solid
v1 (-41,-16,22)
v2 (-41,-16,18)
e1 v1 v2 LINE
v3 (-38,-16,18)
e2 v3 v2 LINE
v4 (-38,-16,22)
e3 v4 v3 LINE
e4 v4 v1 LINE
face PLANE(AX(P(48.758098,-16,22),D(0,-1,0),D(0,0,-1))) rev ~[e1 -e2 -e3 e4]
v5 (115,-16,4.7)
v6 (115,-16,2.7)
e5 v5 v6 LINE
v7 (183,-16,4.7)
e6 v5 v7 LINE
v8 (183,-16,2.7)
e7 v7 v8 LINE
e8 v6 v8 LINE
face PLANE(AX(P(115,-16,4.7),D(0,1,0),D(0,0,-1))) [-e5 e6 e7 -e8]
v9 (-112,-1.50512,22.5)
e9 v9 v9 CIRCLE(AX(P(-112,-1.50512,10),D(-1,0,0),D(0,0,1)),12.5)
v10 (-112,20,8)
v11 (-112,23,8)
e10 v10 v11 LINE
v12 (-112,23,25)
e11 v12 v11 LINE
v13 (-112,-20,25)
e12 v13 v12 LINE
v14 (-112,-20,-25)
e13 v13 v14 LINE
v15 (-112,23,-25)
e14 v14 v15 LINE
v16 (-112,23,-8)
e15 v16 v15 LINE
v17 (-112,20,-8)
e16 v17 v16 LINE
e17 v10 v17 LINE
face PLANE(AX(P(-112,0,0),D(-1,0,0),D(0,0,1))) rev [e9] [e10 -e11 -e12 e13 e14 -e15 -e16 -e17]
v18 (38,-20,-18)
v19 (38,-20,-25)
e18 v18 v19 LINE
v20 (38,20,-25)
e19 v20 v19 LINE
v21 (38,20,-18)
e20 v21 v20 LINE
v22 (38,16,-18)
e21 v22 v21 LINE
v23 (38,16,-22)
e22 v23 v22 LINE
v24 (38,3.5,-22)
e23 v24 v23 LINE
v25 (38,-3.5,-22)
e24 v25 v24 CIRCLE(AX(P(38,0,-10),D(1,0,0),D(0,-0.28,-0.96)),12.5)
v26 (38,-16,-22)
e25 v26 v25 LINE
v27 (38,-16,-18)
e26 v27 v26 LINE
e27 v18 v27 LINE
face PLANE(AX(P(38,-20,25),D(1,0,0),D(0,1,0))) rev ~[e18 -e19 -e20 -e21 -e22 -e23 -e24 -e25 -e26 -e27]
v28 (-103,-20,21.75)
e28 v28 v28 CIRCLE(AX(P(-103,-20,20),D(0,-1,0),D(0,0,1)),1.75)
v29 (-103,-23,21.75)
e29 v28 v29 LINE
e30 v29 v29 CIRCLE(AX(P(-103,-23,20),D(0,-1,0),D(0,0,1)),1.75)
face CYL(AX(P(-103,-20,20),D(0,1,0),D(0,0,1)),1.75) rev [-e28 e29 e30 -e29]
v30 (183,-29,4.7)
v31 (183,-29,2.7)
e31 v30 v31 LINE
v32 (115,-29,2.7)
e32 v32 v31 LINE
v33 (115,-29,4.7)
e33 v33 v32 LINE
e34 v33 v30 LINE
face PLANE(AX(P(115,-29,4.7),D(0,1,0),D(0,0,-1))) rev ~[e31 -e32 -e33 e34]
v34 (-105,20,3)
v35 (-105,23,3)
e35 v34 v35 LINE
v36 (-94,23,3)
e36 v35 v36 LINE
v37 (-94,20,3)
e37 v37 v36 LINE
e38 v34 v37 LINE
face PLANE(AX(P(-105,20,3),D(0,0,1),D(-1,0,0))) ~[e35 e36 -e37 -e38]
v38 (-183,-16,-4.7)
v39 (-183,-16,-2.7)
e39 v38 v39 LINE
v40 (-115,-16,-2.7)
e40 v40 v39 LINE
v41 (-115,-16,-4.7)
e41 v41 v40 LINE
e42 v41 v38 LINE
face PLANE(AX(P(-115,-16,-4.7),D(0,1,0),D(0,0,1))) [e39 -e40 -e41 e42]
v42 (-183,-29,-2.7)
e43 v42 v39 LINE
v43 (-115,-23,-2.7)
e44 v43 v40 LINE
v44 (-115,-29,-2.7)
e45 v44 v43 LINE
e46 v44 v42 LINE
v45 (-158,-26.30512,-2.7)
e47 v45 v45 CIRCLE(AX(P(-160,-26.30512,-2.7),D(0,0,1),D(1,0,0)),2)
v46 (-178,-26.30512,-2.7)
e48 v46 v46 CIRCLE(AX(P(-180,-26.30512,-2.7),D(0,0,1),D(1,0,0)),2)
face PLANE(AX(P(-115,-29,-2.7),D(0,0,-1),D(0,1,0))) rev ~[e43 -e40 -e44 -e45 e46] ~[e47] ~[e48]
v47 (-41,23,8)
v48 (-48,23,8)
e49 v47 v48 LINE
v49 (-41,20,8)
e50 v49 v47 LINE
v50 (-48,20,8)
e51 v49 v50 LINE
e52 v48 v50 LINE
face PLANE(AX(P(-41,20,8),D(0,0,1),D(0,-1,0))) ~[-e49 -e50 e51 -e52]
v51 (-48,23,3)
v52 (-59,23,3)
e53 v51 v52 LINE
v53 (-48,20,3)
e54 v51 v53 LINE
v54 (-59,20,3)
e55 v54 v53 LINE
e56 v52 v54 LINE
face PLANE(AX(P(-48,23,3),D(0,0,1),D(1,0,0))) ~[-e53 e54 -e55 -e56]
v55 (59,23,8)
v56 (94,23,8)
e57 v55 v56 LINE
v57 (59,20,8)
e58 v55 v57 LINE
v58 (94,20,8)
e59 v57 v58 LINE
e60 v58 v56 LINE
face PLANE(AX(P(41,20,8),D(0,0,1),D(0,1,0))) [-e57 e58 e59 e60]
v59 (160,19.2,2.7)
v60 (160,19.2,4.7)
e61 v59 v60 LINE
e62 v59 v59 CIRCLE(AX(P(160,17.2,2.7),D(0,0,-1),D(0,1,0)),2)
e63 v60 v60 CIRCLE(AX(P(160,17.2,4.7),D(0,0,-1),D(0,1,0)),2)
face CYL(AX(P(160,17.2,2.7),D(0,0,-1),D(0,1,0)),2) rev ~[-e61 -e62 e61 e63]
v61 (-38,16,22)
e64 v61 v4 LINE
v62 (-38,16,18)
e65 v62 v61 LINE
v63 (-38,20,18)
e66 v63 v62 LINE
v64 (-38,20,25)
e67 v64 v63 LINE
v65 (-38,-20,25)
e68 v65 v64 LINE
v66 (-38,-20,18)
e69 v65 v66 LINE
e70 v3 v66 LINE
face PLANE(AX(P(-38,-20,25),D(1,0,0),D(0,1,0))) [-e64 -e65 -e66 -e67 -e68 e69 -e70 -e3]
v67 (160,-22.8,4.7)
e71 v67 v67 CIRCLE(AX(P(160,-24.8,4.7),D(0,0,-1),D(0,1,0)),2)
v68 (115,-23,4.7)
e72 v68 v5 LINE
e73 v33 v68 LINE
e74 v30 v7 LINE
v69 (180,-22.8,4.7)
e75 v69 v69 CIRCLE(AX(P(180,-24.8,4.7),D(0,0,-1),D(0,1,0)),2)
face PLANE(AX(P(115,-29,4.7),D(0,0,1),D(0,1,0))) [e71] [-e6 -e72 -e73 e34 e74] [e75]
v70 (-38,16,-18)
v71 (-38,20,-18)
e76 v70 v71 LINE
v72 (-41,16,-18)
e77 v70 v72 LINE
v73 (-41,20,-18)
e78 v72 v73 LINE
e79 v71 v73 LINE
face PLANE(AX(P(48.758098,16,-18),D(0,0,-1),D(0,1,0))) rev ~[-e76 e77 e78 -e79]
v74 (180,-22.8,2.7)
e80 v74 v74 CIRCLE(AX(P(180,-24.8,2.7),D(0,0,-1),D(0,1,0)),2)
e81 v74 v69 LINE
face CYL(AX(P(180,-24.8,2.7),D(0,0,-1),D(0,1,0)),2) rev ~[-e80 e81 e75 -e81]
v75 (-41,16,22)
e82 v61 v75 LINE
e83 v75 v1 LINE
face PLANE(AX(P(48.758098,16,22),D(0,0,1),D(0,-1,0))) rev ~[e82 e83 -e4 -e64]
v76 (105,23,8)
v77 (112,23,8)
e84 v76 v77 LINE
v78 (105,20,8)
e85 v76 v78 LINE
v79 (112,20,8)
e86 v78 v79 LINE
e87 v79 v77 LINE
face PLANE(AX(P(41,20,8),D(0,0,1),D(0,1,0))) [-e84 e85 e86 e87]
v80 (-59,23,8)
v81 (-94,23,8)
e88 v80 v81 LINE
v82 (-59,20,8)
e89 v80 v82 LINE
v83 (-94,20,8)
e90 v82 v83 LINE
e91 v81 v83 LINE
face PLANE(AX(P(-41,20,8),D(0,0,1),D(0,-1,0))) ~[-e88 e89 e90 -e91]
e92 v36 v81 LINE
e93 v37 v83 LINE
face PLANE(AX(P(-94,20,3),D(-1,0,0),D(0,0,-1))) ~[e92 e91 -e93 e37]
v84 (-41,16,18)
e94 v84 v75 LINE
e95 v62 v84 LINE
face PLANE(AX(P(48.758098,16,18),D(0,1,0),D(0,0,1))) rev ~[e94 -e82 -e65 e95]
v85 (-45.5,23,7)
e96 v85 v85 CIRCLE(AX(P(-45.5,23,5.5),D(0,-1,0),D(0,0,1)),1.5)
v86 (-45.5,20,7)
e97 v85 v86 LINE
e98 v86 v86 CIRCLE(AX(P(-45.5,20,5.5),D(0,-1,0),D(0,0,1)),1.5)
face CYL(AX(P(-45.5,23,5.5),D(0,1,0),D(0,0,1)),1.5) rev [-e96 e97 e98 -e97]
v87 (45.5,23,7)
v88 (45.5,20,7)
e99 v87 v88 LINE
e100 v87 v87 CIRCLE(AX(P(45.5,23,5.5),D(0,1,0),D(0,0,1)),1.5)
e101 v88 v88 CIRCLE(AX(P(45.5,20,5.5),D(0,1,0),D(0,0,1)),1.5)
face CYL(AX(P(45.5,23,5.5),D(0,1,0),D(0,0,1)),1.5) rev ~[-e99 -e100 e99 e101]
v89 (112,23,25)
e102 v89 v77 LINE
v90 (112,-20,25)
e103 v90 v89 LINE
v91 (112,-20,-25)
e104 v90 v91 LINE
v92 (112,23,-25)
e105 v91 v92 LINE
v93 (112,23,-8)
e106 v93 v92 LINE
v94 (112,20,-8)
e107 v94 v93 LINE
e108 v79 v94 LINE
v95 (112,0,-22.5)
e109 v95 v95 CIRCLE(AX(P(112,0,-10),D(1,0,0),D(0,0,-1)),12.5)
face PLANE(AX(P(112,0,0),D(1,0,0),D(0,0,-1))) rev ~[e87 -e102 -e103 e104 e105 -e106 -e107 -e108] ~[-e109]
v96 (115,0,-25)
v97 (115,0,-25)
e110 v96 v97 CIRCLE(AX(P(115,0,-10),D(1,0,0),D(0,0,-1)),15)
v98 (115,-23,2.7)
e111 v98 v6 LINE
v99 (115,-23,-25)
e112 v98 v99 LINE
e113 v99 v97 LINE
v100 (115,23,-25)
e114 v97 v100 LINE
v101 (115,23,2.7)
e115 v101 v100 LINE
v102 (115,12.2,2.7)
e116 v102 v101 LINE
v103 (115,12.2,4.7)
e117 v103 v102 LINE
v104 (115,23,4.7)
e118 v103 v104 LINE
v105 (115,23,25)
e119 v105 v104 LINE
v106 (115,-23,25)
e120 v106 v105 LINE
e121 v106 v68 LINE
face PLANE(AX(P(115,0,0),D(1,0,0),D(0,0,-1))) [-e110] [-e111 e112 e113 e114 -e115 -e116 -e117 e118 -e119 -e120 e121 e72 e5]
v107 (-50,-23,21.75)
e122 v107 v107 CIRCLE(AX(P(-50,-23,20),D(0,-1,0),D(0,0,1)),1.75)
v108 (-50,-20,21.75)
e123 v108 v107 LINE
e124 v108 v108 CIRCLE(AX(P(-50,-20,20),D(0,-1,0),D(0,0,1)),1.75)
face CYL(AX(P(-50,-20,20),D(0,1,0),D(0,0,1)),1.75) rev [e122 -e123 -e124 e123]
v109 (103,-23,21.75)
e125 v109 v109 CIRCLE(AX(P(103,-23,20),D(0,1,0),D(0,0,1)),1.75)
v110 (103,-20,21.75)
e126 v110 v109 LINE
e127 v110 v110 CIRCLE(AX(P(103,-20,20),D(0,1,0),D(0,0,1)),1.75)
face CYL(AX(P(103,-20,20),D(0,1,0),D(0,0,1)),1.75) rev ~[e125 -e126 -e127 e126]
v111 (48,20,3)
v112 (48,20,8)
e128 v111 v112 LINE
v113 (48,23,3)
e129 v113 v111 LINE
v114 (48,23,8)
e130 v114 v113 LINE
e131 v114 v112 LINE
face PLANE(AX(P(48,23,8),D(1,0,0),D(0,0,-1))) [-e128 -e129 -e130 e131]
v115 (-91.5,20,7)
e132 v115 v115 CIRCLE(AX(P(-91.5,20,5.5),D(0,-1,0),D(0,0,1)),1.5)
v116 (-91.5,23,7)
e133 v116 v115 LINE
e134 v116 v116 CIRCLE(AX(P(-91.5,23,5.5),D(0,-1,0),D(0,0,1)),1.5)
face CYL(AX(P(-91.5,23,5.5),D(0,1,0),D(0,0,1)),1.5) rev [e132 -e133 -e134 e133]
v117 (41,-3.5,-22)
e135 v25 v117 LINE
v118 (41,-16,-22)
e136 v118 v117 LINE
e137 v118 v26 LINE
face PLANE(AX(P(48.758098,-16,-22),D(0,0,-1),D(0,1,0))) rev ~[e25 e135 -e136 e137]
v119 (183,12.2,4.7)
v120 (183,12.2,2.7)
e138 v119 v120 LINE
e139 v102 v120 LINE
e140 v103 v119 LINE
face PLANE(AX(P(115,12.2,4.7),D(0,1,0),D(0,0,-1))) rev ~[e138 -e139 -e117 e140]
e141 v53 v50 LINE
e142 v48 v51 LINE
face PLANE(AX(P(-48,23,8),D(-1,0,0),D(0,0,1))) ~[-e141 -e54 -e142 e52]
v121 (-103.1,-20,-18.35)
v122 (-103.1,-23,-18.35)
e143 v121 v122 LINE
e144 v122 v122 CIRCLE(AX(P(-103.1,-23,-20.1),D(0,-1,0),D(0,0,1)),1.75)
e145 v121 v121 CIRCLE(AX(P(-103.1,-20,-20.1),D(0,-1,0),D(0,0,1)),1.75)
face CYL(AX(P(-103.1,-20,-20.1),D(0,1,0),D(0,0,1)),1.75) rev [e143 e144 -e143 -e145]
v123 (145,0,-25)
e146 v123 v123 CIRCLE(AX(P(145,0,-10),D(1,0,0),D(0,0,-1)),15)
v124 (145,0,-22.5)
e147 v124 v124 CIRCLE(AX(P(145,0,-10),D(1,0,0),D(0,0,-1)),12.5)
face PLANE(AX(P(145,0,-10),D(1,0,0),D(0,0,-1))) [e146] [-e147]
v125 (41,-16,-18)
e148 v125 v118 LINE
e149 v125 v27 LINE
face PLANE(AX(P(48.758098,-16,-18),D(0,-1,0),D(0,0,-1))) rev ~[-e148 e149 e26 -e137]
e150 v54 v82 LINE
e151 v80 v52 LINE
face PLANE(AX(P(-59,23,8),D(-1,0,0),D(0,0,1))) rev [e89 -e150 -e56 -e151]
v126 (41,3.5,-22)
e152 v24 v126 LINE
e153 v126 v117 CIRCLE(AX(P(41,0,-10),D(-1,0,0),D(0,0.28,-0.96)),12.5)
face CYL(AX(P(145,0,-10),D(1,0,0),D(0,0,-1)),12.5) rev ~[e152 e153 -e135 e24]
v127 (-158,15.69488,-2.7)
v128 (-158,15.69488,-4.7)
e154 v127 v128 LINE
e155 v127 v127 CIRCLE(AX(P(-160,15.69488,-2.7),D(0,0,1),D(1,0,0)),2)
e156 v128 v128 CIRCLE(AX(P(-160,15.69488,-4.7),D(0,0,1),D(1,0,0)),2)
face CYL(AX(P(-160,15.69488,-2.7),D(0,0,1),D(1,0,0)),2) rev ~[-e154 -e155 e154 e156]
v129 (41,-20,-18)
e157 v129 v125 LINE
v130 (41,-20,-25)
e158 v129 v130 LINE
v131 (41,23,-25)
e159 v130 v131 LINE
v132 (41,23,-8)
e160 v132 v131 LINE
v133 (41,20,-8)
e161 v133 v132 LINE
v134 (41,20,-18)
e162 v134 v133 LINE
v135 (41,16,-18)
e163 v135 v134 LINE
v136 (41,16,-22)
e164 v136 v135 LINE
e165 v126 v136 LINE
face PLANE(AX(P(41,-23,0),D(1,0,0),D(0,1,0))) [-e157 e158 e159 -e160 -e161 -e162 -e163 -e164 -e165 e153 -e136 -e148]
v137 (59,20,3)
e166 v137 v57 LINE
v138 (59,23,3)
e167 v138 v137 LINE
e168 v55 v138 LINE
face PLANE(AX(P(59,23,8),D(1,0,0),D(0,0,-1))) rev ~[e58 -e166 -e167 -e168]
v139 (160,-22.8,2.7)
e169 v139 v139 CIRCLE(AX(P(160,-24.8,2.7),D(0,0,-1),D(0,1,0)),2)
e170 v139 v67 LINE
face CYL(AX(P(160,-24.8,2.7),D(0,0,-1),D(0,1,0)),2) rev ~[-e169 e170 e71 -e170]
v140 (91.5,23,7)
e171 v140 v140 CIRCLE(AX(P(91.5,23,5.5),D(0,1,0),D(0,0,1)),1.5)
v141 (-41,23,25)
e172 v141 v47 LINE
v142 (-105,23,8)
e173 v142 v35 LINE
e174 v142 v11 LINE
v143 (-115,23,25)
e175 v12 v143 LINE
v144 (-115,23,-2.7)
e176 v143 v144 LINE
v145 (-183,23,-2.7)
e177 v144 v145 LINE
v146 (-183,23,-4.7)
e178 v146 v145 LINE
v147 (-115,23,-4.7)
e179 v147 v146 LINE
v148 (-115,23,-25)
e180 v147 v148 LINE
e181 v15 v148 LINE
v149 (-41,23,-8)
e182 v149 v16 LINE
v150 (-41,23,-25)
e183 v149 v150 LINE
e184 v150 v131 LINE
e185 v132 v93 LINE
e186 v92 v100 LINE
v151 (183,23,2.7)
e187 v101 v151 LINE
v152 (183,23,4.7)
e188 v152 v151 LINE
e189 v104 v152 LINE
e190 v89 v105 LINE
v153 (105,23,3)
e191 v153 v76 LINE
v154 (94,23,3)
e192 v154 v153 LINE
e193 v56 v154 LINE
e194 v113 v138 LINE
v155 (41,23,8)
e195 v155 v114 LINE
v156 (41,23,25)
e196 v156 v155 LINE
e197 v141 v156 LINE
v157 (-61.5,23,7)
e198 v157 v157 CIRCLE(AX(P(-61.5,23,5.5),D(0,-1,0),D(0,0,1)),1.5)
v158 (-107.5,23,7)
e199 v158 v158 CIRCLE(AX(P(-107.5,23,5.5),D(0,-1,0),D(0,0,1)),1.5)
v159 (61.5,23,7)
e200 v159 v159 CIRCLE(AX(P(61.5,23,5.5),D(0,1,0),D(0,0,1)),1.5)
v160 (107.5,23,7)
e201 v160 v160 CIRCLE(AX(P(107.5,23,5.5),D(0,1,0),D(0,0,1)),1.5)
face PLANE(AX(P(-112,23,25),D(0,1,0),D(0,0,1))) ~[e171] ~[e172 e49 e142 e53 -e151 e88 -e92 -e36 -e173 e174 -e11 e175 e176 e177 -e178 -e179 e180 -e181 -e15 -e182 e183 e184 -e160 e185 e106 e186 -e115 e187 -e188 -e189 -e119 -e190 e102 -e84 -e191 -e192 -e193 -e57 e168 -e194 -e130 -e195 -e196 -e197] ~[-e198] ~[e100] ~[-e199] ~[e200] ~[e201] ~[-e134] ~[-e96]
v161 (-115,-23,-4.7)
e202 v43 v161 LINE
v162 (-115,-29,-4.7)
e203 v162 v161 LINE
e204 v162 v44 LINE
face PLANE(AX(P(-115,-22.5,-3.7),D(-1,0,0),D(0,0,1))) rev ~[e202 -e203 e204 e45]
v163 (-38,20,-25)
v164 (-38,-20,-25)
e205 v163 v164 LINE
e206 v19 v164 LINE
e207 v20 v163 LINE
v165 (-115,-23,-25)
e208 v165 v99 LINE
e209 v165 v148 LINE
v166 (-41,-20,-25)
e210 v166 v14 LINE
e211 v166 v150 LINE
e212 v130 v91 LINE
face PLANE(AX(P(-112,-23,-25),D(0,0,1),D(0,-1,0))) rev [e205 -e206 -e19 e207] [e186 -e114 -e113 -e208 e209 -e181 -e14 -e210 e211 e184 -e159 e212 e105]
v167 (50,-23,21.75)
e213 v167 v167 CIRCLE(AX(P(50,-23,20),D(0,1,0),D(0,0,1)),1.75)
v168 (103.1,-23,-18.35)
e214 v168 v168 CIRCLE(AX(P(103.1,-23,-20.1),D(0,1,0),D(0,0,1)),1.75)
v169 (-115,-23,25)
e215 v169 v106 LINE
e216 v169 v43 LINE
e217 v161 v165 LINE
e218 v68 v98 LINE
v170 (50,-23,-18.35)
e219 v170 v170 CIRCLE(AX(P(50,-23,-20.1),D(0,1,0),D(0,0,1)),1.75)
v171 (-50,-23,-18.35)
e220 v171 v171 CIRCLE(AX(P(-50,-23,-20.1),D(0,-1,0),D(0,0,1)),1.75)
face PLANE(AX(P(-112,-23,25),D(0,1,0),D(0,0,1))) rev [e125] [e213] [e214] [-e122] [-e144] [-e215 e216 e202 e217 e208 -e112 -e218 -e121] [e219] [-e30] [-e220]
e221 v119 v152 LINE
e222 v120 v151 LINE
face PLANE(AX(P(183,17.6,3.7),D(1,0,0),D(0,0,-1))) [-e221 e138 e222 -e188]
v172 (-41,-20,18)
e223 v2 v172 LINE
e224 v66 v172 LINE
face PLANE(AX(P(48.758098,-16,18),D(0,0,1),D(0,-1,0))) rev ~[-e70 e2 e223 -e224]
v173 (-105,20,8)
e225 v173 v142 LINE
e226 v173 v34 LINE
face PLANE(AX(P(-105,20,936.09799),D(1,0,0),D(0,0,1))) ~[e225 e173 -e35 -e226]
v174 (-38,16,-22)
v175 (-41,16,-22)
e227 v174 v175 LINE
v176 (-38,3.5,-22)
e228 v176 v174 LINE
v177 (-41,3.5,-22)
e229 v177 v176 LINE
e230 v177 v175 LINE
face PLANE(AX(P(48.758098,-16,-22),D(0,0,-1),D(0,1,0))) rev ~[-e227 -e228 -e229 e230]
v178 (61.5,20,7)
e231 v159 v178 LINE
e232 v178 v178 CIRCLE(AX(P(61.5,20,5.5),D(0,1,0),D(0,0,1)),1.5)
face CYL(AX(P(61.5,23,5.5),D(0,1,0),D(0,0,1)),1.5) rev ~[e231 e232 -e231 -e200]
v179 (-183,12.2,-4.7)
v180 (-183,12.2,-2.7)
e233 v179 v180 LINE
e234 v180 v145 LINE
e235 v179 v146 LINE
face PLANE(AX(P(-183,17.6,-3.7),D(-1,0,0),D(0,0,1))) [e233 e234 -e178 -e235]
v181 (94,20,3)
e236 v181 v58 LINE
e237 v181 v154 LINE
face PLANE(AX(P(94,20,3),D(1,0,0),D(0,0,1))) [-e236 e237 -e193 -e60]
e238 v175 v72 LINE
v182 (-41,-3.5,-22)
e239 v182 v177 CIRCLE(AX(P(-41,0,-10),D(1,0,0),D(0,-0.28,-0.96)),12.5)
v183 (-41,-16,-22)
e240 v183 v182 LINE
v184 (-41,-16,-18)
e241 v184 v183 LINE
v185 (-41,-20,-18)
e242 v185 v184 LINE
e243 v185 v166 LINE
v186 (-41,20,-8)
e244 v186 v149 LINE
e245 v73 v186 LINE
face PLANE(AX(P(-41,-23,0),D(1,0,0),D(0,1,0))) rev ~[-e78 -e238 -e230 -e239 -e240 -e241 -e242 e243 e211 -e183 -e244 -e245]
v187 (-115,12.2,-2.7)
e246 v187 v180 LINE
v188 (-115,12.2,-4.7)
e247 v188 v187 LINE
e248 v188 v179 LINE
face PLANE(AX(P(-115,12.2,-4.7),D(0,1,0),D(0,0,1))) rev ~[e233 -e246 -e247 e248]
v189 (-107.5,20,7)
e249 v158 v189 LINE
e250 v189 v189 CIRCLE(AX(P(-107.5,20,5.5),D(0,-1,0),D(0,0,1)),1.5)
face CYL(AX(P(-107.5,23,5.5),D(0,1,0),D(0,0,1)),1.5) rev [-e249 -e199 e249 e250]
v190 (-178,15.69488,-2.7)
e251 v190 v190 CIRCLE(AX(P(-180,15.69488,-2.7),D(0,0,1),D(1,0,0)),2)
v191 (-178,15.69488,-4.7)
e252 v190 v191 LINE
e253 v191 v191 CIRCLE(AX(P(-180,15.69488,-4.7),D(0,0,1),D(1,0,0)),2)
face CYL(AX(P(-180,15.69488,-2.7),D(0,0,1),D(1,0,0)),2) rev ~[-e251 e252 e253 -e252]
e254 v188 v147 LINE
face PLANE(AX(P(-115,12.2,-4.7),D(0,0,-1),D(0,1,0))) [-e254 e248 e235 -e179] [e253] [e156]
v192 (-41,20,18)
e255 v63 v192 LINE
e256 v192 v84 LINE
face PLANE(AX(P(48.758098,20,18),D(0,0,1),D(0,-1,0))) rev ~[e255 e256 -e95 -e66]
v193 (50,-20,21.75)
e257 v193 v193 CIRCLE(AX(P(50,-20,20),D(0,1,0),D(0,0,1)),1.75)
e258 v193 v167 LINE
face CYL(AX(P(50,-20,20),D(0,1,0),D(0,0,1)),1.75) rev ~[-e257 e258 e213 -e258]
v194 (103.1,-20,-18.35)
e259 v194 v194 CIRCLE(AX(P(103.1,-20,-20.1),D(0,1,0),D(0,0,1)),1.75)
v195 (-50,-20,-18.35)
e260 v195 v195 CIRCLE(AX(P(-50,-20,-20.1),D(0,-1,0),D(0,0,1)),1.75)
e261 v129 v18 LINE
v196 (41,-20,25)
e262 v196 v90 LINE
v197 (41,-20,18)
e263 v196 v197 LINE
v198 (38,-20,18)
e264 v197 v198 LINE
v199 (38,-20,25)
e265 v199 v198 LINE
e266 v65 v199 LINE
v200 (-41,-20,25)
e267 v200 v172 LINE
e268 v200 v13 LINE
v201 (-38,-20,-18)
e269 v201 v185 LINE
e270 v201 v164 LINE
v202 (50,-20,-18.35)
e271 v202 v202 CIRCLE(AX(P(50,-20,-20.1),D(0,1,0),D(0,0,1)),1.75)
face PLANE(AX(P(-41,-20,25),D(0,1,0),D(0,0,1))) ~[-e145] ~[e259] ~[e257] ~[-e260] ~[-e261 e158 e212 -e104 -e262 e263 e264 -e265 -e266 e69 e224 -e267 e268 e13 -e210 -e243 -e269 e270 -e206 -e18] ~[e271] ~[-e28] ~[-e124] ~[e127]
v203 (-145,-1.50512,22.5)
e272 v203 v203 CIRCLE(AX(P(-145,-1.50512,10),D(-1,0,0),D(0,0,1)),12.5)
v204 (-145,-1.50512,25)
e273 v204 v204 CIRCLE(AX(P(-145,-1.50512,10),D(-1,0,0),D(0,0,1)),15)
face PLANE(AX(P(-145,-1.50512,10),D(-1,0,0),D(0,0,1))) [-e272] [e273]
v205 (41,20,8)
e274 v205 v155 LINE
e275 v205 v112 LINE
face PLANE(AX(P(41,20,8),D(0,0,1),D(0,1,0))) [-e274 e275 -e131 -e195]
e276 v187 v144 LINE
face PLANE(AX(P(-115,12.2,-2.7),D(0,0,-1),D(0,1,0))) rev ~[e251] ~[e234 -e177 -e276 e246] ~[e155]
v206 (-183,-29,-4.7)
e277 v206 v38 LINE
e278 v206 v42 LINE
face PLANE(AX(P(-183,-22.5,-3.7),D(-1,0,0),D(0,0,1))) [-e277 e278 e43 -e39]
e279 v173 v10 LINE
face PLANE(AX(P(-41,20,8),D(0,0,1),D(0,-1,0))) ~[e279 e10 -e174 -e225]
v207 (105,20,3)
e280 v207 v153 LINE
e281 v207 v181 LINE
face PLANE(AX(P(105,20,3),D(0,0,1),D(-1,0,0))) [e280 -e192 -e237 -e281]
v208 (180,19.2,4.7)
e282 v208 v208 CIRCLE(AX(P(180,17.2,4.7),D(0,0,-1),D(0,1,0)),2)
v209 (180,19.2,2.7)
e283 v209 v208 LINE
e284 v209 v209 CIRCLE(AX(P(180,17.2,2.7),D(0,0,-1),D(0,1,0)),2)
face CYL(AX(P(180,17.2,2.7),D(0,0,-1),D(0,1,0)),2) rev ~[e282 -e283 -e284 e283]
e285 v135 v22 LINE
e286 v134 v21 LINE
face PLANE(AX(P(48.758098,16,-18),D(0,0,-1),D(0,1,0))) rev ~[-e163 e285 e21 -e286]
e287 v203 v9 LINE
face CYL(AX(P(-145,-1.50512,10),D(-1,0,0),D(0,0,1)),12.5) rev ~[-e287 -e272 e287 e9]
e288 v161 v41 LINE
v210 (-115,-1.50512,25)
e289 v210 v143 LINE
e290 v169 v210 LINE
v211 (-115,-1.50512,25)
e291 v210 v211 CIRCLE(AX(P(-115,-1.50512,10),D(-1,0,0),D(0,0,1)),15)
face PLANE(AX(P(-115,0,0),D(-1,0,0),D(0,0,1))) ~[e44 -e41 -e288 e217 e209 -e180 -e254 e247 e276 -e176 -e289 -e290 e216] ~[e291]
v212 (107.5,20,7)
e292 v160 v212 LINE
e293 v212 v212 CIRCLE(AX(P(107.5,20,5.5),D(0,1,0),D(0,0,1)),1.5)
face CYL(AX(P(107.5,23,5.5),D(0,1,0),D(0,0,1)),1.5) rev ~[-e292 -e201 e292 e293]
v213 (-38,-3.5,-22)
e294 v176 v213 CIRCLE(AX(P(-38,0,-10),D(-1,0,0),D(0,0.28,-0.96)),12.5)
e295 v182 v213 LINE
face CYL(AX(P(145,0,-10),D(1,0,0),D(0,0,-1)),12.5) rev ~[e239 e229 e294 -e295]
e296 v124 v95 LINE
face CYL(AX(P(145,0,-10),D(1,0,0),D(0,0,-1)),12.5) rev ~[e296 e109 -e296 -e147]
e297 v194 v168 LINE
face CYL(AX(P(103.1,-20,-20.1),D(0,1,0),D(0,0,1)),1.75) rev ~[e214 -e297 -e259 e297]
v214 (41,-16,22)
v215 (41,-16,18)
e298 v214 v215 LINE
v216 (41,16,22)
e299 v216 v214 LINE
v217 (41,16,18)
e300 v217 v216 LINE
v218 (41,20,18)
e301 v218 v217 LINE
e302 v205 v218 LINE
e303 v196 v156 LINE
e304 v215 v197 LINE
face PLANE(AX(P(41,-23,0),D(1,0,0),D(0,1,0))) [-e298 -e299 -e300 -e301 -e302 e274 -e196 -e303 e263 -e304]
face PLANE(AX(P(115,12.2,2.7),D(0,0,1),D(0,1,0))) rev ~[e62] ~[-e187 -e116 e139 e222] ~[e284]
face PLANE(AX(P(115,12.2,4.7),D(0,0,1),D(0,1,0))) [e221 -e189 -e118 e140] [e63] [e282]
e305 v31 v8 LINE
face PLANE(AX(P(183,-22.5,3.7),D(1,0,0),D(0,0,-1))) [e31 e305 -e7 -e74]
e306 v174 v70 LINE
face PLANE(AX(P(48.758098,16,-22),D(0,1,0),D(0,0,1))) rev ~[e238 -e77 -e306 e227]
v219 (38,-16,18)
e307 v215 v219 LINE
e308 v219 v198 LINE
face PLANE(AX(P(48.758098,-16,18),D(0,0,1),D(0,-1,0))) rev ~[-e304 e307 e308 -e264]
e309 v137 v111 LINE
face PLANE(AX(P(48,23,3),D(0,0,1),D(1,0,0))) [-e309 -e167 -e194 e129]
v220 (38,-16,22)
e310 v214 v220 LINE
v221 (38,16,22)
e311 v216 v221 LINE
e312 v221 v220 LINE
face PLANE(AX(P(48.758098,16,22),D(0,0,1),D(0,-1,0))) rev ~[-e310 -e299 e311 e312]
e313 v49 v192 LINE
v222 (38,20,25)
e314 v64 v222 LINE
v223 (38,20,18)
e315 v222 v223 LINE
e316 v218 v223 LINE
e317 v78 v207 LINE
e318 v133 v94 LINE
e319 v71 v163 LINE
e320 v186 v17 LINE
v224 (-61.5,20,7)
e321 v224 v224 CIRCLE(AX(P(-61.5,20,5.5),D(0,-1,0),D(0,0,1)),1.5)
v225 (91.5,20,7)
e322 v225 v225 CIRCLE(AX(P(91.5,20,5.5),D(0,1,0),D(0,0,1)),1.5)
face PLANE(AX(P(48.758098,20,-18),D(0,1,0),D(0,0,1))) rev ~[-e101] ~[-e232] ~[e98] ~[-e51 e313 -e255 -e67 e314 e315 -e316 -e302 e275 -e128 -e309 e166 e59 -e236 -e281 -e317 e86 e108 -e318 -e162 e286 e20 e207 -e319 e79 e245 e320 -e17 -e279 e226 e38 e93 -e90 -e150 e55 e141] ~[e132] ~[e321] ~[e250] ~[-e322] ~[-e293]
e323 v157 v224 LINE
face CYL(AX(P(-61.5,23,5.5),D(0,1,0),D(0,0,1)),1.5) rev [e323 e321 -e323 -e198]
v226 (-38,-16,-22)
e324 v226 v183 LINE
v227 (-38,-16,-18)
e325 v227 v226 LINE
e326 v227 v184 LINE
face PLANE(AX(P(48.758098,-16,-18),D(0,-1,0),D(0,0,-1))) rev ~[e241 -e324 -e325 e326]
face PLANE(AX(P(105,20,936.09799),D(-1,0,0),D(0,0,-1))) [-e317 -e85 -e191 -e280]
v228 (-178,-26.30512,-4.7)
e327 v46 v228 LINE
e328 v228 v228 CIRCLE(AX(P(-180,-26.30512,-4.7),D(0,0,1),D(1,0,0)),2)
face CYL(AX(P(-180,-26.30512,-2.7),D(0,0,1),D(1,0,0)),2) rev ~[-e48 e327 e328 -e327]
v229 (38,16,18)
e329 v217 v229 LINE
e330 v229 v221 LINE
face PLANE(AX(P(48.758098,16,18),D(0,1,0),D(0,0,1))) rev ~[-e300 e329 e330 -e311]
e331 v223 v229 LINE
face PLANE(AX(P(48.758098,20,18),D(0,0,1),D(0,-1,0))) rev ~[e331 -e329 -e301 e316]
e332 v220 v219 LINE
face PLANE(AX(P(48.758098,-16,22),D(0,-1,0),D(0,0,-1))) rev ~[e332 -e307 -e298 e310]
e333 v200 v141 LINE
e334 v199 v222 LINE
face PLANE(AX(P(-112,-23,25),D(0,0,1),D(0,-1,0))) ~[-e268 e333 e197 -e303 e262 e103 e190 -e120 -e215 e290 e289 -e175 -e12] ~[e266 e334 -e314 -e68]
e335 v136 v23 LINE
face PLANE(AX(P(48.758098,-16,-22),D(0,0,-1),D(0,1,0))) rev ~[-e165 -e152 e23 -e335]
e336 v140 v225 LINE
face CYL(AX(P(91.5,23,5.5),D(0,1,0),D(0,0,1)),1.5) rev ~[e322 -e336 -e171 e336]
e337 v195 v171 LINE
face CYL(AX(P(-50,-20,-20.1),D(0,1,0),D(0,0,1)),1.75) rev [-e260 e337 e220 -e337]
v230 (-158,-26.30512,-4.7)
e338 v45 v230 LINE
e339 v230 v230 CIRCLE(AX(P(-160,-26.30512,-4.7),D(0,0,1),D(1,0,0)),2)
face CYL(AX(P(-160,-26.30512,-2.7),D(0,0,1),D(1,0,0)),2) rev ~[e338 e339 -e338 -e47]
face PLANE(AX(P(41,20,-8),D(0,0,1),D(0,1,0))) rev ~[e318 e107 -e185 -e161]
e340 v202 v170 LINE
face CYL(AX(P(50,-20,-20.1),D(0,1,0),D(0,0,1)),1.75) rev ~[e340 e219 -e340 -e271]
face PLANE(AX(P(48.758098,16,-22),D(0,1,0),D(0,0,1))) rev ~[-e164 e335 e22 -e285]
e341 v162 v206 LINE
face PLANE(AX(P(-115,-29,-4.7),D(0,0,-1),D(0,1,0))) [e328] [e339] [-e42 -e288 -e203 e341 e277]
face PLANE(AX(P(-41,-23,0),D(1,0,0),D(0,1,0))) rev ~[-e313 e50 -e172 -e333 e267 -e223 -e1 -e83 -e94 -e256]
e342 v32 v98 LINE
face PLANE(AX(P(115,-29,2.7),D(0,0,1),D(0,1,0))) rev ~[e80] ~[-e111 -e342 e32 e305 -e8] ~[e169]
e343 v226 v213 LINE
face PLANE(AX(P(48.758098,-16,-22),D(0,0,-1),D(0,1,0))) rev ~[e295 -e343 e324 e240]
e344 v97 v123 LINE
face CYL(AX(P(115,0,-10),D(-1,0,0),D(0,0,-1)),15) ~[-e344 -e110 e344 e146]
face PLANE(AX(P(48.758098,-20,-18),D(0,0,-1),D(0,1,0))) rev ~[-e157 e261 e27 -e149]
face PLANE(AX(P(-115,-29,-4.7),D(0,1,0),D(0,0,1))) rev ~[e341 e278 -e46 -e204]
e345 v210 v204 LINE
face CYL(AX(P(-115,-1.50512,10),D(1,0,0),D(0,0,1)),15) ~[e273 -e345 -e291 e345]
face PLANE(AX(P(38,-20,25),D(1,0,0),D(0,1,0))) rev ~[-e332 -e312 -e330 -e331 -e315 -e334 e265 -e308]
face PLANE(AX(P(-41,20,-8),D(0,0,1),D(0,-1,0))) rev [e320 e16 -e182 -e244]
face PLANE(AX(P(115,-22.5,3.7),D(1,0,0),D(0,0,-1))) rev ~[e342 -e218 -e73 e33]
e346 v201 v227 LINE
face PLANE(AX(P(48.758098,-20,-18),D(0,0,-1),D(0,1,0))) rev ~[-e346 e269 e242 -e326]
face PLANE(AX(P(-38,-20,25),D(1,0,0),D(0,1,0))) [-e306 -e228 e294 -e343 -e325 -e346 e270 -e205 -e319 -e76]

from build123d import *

# Parameters (mm, degrees)
SKETCH1_W               = 82
SKETCH1_H               = 46
BOSS_EXTRUDE1_DEPTH     = 25
CUT_EXTRUDE1_REACH      = 70.629
SKETCH2_W               = 76
SKETCH2_H               = 40
CUT_EXTRUDE2_DEPTH      = 89.758098222
CUT_EXTRUDE2_DEPTH_BACK = 89.758098222
SKETCH4_W               = 50
SKETCH4_H               = 3
BOSS_EXTRUDE2_DEPTH     = 71
CUT_EXTRUDE3_REACH      = 124.548
SKETCH5_R               = 1.75
SKETCH7_W               = 16
SKETCH7_H               = 3
BOSS_EXTRUDE4_DEPTH     = 71
SKETCH8_W               = 50
SKETCH8_H               = 46
BOSS_EXTRUDE5_DEPTH     = 3
CUT_EXTRUDE4_START      = -3
CUT_EXTRUDE4_DEPTH      = 130.356638132
CUT_EXTRUDE5_REACH      = 128.357
SKETCH10_W              = 11
SKETCH10_H              = 5
CUT_EXTRUDE6_REACH      = 128.357
SKETCH11_R              = 1.5
SKETCH12_R              = 15
BOSS_EXTRUDE6_DEPTH     = 30
SKETCH13_R              = 12.5
CUT_EXTRUDE7_DEPTH      = 190.076704012
SKETCH14_W              = 2
SKETCH14_H              = 10.8
SKETCH14_H_2            = 13
BOSS_EXTRUDE7_DEPTH     = 68
CUT_EXTRUDE8_REACH      = 189.343
SKETCH15_R              = 2
SKETCH16_R              = 15
BOSS_EXTRUDE8_DEPTH     = 30
CUT_EXTRUDE9_REACH      = 332.227
SKETCH17_R              = 12.5
SKETCH18_W              = 2
SKETCH18_H              = 10.8
BOSS_EXTRUDE9_DEPTH     = 68
SKETCH19_W              = 2
SKETCH19_H              = 13
BOSS_EXTRUDE10_DEPTH    = 68
CUT_EXTRUDE10_REACH     = 189.343
SKETCH20_R              = 2


with BuildPart() as part:
    # Sketch1 → Boss-Extrude1 (new, symmetric)
    with BuildSketch(Plane.XY):
        Rectangle(SKETCH1_W, SKETCH1_H)
    extrude(amount=BOSS_EXTRUDE1_DEPTH, both=True)

    # Sketch2 → Cut-Extrude1 (cut, up to next)
    with BuildSketch(Plane.XY.offset(25), mode=Mode.PRIVATE) as cut_extrude1_sk1:
        Rectangle(SKETCH2_W, SKETCH2_H)
    cut_extrude1_tool1 = extrude(cut_extrude1_sk1.sketch, amount=-CUT_EXTRUDE1_REACH, mode=Mode.PRIVATE) & part.part
    add(cut_extrude1_tool1.solids().sort_by_distance((0, 0, 25))[0], mode=Mode.SUBTRACT)

    # Sketch3 → Cut-Extrude2 (cut, two sides: drawn at the far end of the back side and taken through both)
    with BuildSketch(Plane.ZY.offset(41).offset(-CUT_EXTRUDE2_DEPTH_BACK)):
        Polygon((-18, 16), (-18, 20), (18, 20), (18, 16), (22, 16), (22, -16), (18, -16), (18, -20), (-18, -20), (-18, -16), (-22, -16), (-22, 16), align=None)
    extrude(amount=CUT_EXTRUDE2_DEPTH + CUT_EXTRUDE2_DEPTH_BACK, mode=Mode.SUBTRACT)

    # Sketch4 → Boss-Extrude2 (add)
    with BuildSketch(Plane(origin=(41, 0, 0), x_dir=(0, 0, -1), z_dir=(1, 0, 0))):
        with Locations((0, -21.5)):
            Rectangle(SKETCH4_W, SKETCH4_H)
    boss_extrude2 = extrude(amount=BOSS_EXTRUDE2_DEPTH)

    # Sketch5 → Cut-Extrude3 (cut, up to next)
    with BuildSketch(Plane(origin=(0, -20, 0), x_dir=(1, 0, 0), z_dir=(0, 1, 0)), mode=Mode.PRIVATE) as cut_extrude3_sk1:
        with Locations(Location((103.1, 20.1, 0), (0, 0, 270))):
            Circle(SKETCH5_R)
    cut_extrude3_tool1 = extrude(cut_extrude3_sk1.sketch, amount=-CUT_EXTRUDE3_REACH, mode=Mode.PRIVATE) & part.part
    # Sketch5 → Cut-Extrude3 (cut, up to next)
    with BuildSketch(Plane(origin=(0, -20, 0), x_dir=(1, 0, 0), z_dir=(0, 1, 0)), mode=Mode.PRIVATE) as cut_extrude3_sk2:
        with Locations(Location((103, -20, 0), (0, 0, 270))):
            Circle(SKETCH5_R)
    cut_extrude3_tool2 = extrude(cut_extrude3_sk2.sketch, amount=-CUT_EXTRUDE3_REACH, mode=Mode.PRIVATE) & part.part
    # Sketch5 → Cut-Extrude3 (cut, up to next)
    with BuildSketch(Plane(origin=(0, -20, 0), x_dir=(1, 0, 0), z_dir=(0, 1, 0)), mode=Mode.PRIVATE) as cut_extrude3_sk3:
        with Locations(Location((50, 20.1, 0), (0, 0, 270))):
            Circle(SKETCH5_R)
    cut_extrude3_tool3 = extrude(cut_extrude3_sk3.sketch, amount=-CUT_EXTRUDE3_REACH, mode=Mode.PRIVATE) & part.part
    # Sketch5 → Cut-Extrude3 (cut, up to next)
    with BuildSketch(Plane(origin=(0, -20, 0), x_dir=(1, 0, 0), z_dir=(0, 1, 0)), mode=Mode.PRIVATE) as cut_extrude3_sk4:
        with Locations(Location((50, -20, 0), (0, 0, 270))):
            Circle(SKETCH5_R)
    cut_extrude3_tool4 = extrude(cut_extrude3_sk4.sketch, amount=-CUT_EXTRUDE3_REACH, mode=Mode.PRIVATE) & part.part
    cut_extrude3_1 = cut_extrude3_tool1.solids().sort_by_distance((103.1, -20, -20.1))[0]
    add(cut_extrude3_1, mode=Mode.SUBTRACT)
    cut_extrude3_2 = cut_extrude3_tool2.solids().sort_by_distance((103, -20, 20))[0]
    add(cut_extrude3_2, mode=Mode.SUBTRACT)
    cut_extrude3_3 = cut_extrude3_tool3.solids().sort_by_distance((50, -20, -20.1))[0]
    add(cut_extrude3_3, mode=Mode.SUBTRACT)
    cut_extrude3_4 = cut_extrude3_tool4.solids().sort_by_distance((50, -20, 20))[0]
    add(cut_extrude3_4, mode=Mode.SUBTRACT)
    cut_extrude3 = cut_extrude3_1 + cut_extrude3_2 + cut_extrude3_3 + cut_extrude3_4  # Cut-Extrude3 as one shape, for the pattern or mirror that repeats it

    # Sketch7 → Boss-Extrude4 (add)
    with BuildSketch(Plane(origin=(41, 0, 0), x_dir=(0, 0, -1), z_dir=(1, 0, 0))):
        with Locations((0, 21.5)):
            Rectangle(SKETCH7_W, SKETCH7_H)
    boss_extrude4 = extrude(amount=BOSS_EXTRUDE4_DEPTH)

    # Sketch8 → Boss-Extrude5 (add)
    with BuildSketch(Plane(origin=(112, 0, 0), x_dir=(0, 0, -1), z_dir=(1, 0, 0))):
        Rectangle(SKETCH8_W, SKETCH8_H)
    boss_extrude5 = extrude(amount=BOSS_EXTRUDE5_DEPTH)

    # Sketch9 → Cut-Extrude4 (cut)
    with BuildSketch(Plane(origin=(0, 23, 0), x_dir=(1, 0, 0), z_dir=(0, 1, 0)).offset(CUT_EXTRUDE4_START)):
        Polygon((105, -317.365996733), (105, -8), (105, -3), (94, -3), (94, -8), (94, -317.365996733), (94, -936.097990199), (105, -936.097990199), align=None)
    cut_extrude4 = extrude(amount=CUT_EXTRUDE4_DEPTH, mode=Mode.SUBTRACT)

    # Sketch10 → Cut-Extrude5 (cut, up to next)
    with BuildSketch(Plane(origin=(0, 23, 0), x_dir=(1, 0, 0), z_dir=(0, 1, 0)), mode=Mode.PRIVATE) as cut_extrude5_sk1:
        with Locations((53.5, -5.5)):
            Rectangle(SKETCH10_W, SKETCH10_H)
    cut_extrude5_tool1 = extrude(cut_extrude5_sk1.sketch, amount=-CUT_EXTRUDE5_REACH, mode=Mode.PRIVATE) & part.part
    cut_extrude5 = cut_extrude5_tool1.solids().sort_by_distance((53.5, 23, 5.5))[0]
    add(cut_extrude5, mode=Mode.SUBTRACT)

    # Sketch11 → Cut-Extrude6 (cut, up to next)
    with BuildSketch(Plane(origin=(0, 23, 0), x_dir=(1, 0, 0), z_dir=(0, 1, 0)), mode=Mode.PRIVATE) as cut_extrude6_sk1:
        with Locations(Location((45.5, -5.5, 0), (0, 0, 270))):
            Circle(SKETCH11_R)
    cut_extrude6_tool1 = extrude(cut_extrude6_sk1.sketch, amount=-CUT_EXTRUDE6_REACH, mode=Mode.PRIVATE) & part.part
    # Sketch11 → Cut-Extrude6 (cut, up to next)
    with BuildSketch(Plane(origin=(0, 23, 0), x_dir=(1, 0, 0), z_dir=(0, 1, 0)), mode=Mode.PRIVATE) as cut_extrude6_sk2:
        with Locations(Location((61.5, -5.5, 0), (0, 0, 270))):
            Circle(SKETCH11_R)
    cut_extrude6_tool2 = extrude(cut_extrude6_sk2.sketch, amount=-CUT_EXTRUDE6_REACH, mode=Mode.PRIVATE) & part.part
    # Sketch11 → Cut-Extrude6 (cut, up to next)
    with BuildSketch(Plane(origin=(0, 23, 0), x_dir=(1, 0, 0), z_dir=(0, 1, 0)), mode=Mode.PRIVATE) as cut_extrude6_sk3:
        with Locations(Location((91.5, -5.5, 0), (0, 0, 270))):
            Circle(SKETCH11_R)
    cut_extrude6_tool3 = extrude(cut_extrude6_sk3.sketch, amount=-CUT_EXTRUDE6_REACH, mode=Mode.PRIVATE) & part.part
    # Sketch11 → Cut-Extrude6 (cut, up to next)
    with BuildSketch(Plane(origin=(0, 23, 0), x_dir=(1, 0, 0), z_dir=(0, 1, 0)), mode=Mode.PRIVATE) as cut_extrude6_sk4:
        with Locations(Location((107.5, -5.5, 0), (0, 0, 270))):
            Circle(SKETCH11_R)
    cut_extrude6_tool4 = extrude(cut_extrude6_sk4.sketch, amount=-CUT_EXTRUDE6_REACH, mode=Mode.PRIVATE) & part.part
    cut_extrude6_1 = cut_extrude6_tool1.solids().sort_by_distance((45.5, 23, 5.5))[0]
    add(cut_extrude6_1, mode=Mode.SUBTRACT)
    cut_extrude6_2 = cut_extrude6_tool2.solids().sort_by_distance((61.5, 23, 5.5))[0]
    add(cut_extrude6_2, mode=Mode.SUBTRACT)
    cut_extrude6_3 = cut_extrude6_tool3.solids().sort_by_distance((91.5, 23, 5.5))[0]
    add(cut_extrude6_3, mode=Mode.SUBTRACT)
    cut_extrude6_4 = cut_extrude6_tool4.solids().sort_by_distance((107.5, 23, 5.5))[0]
    add(cut_extrude6_4, mode=Mode.SUBTRACT)
    cut_extrude6 = cut_extrude6_1 + cut_extrude6_2 + cut_extrude6_3 + cut_extrude6_4  # Cut-Extrude6 as one shape, for the pattern or mirror that repeats it

    # Sketch12 → Boss-Extrude6 (add)
    with BuildSketch(Plane(origin=(115, 0, 0), x_dir=(0, 0, -1), z_dir=(1, 0, 0))):
        with Locations((10, 0)):
            Circle(SKETCH12_R)
    extrude(amount=BOSS_EXTRUDE6_DEPTH)

    # Sketch13 → Cut-Extrude7 (cut, through all)
    with BuildSketch(Plane(origin=(145, 0, 0), x_dir=(0, 0, -1), z_dir=(1, 0, 0))):
        with Locations((10, 0)):
            Circle(SKETCH13_R)
    extrude(amount=-CUT_EXTRUDE7_DEPTH, mode=Mode.SUBTRACT)

    # Sketch14 → Boss-Extrude7 (add)
    with BuildSketch(Plane(origin=(115, 0, 0), x_dir=(0, 0, -1), z_dir=(1, 0, 0))):
        with Locations((-3.7, 17.6)):
            Rectangle(SKETCH14_W, SKETCH14_H)
        with Locations((-3.7, -22.5)):
            Rectangle(SKETCH14_W, SKETCH14_H_2)
    extrude(amount=BOSS_EXTRUDE7_DEPTH)

    # Sketch15 → Cut-Extrude8 (cut, up to next)
    with BuildSketch(Plane(origin=(0, 0, 2.7), x_dir=(-1, 0, 0), z_dir=(0, 0, -1)), mode=Mode.PRIVATE) as cut_extrude8_sk1:
        with Locations(Location((-180, -24.8, 0), (0, 0, 90))):
            Circle(SKETCH15_R)
    cut_extrude8_tool1 = extrude(cut_extrude8_sk1.sketch, amount=-CUT_EXTRUDE8_REACH, mode=Mode.PRIVATE) & part.part
    # Sketch15 → Cut-Extrude8 (cut, up to next)
    with BuildSketch(Plane(origin=(0, 0, 2.7), x_dir=(-1, 0, 0), z_dir=(0, 0, -1)), mode=Mode.PRIVATE) as cut_extrude8_sk2:
        with Locations(Location((-160, -24.8, 0), (0, 0, 90))):
            Circle(SKETCH15_R)
    cut_extrude8_tool2 = extrude(cut_extrude8_sk2.sketch, amount=-CUT_EXTRUDE8_REACH, mode=Mode.PRIVATE) & part.part
    # Sketch15 → Cut-Extrude8 (cut, up to next)
    with BuildSketch(Plane(origin=(0, 0, 2.7), x_dir=(-1, 0, 0), z_dir=(0, 0, -1)), mode=Mode.PRIVATE) as cut_extrude8_sk3:
        with Locations(Location((-160, 17.2, 0), (0, 0, 90))):
            Circle(SKETCH15_R)
    cut_extrude8_tool3 = extrude(cut_extrude8_sk3.sketch, amount=-CUT_EXTRUDE8_REACH, mode=Mode.PRIVATE) & part.part
    # Sketch15 → Cut-Extrude8 (cut, up to next)
    with BuildSketch(Plane(origin=(0, 0, 2.7), x_dir=(-1, 0, 0), z_dir=(0, 0, -1)), mode=Mode.PRIVATE) as cut_extrude8_sk4:
        with Locations(Location((-180, 17.2, 0), (0, 0, 90))):
            Circle(SKETCH15_R)
    cut_extrude8_tool4 = extrude(cut_extrude8_sk4.sketch, amount=-CUT_EXTRUDE8_REACH, mode=Mode.PRIVATE) & part.part
    add(cut_extrude8_tool1.solids().sort_by_distance((180, -24.8, 2.7))[0], mode=Mode.SUBTRACT)
    add(cut_extrude8_tool2.solids().sort_by_distance((160, -24.8, 2.7))[0], mode=Mode.SUBTRACT)
    add(cut_extrude8_tool3.solids().sort_by_distance((160, 17.2, 2.7))[0], mode=Mode.SUBTRACT)
    add(cut_extrude8_tool4.solids().sort_by_distance((180, 17.2, 2.7))[0], mode=Mode.SUBTRACT)

    # Mirror1: Boss-Extrude2, Cut-Extrude3, Boss-Extrude4, Boss-Extrude5, Cut-Extrude4, Cut-Extrude5, Cut-Extrude6 across plane
    add(boss_extrude2.mirror(Plane(origin=(0, 0, 0), x_dir=(0, 0, 1), z_dir=(1, 0, 0))))
    add(cut_extrude3.mirror(Plane(origin=(0, 0, 0), x_dir=(0, 0, 1), z_dir=(1, 0, 0))), mode=Mode.SUBTRACT)
    add(boss_extrude4.mirror(Plane(origin=(0, 0, 0), x_dir=(0, 0, 1), z_dir=(1, 0, 0))))
    add(boss_extrude5.mirror(Plane(origin=(0, 0, 0), x_dir=(0, 0, 1), z_dir=(1, 0, 0))))
    add(cut_extrude4.mirror(Plane(origin=(0, 0, 0), x_dir=(0, 0, 1), z_dir=(1, 0, 0))), mode=Mode.SUBTRACT)
    add(cut_extrude5.mirror(Plane(origin=(0, 0, 0), x_dir=(0, 0, 1), z_dir=(1, 0, 0))), mode=Mode.SUBTRACT)
    add(cut_extrude6.mirror(Plane(origin=(0, 0, 0), x_dir=(0, 0, 1), z_dir=(1, 0, 0))), mode=Mode.SUBTRACT)

    # Sketch16 → Boss-Extrude8 (add)
    with BuildSketch(Plane.ZY.offset(115)):
        with Locations((10, -1.505120408)):
            Circle(SKETCH16_R)
    extrude(amount=BOSS_EXTRUDE8_DEPTH)

    # Sketch17 → Cut-Extrude9 (cut, up to next)
    with BuildSketch(Plane.ZY.offset(145), mode=Mode.PRIVATE) as cut_extrude9_sk1:
        with Locations((10, -1.505120408)):
            Circle(SKETCH17_R)
    cut_extrude9_tool1 = extrude(cut_extrude9_sk1.sketch, amount=-CUT_EXTRUDE9_REACH, mode=Mode.PRIVATE) & part.part
    add(cut_extrude9_tool1.solids().sort_by_distance((-145, -1.50512, 10))[0], mode=Mode.SUBTRACT)

    # Sketch18 → Boss-Extrude9 (add)
    with BuildSketch(Plane.ZY.offset(115)):
        with Locations((-3.7, 17.6)):
            Rectangle(SKETCH18_W, SKETCH18_H)
    extrude(amount=BOSS_EXTRUDE9_DEPTH)

    # Sketch19 → Boss-Extrude10 (add)
    with BuildSketch(Plane.ZY.offset(115)):
        with Locations((-3.7, -22.5)):
            Rectangle(SKETCH19_W, SKETCH19_H)
    extrude(amount=BOSS_EXTRUDE10_DEPTH)

    # Sketch20 → Cut-Extrude10 (cut, up to next)
    with BuildSketch(Plane.XY.offset(-2.7), mode=Mode.PRIVATE) as cut_extrude10_sk1:
        with Locations((-160, 15.694879592)):
            Circle(SKETCH20_R)
    cut_extrude10_tool1 = extrude(cut_extrude10_sk1.sketch, amount=-CUT_EXTRUDE10_REACH, mode=Mode.PRIVATE) & part.part
    # Sketch20 → Cut-Extrude10 (cut, up to next)
    with BuildSketch(Plane.XY.offset(-2.7), mode=Mode.PRIVATE) as cut_extrude10_sk2:
        with Locations((-180, 15.694879592)):
            Circle(SKETCH20_R)
    cut_extrude10_tool2 = extrude(cut_extrude10_sk2.sketch, amount=-CUT_EXTRUDE10_REACH, mode=Mode.PRIVATE) & part.part
    # Sketch20 → Cut-Extrude10 (cut, up to next)
    with BuildSketch(Plane.XY.offset(-2.7), mode=Mode.PRIVATE) as cut_extrude10_sk3:
        with Locations((-160, -26.305120408)):
            Circle(SKETCH20_R)
    cut_extrude10_tool3 = extrude(cut_extrude10_sk3.sketch, amount=-CUT_EXTRUDE10_REACH, mode=Mode.PRIVATE) & part.part
    # Sketch20 → Cut-Extrude10 (cut, up to next)
    with BuildSketch(Plane.XY.offset(-2.7), mode=Mode.PRIVATE) as cut_extrude10_sk4:
        with Locations((-180, -26.305120408)):
            Circle(SKETCH20_R)
    cut_extrude10_tool4 = extrude(cut_extrude10_sk4.sketch, amount=-CUT_EXTRUDE10_REACH, mode=Mode.PRIVATE) & part.part
    add(cut_extrude10_tool1.solids().sort_by_distance((-160, 15.69488, -2.7))[0], mode=Mode.SUBTRACT)
    add(cut_extrude10_tool2.solids().sort_by_distance((-180, 15.69488, -2.7))[0], mode=Mode.SUBTRACT)
    add(cut_extrude10_tool3.solids().sort_by_distance((-160, -26.30512, -2.7))[0], mode=Mode.SUBTRACT)
    add(cut_extrude10_tool4.solids().sort_by_distance((-180, -26.30512, -2.7))[0], mode=Mode.SUBTRACT)


solid = part.part
